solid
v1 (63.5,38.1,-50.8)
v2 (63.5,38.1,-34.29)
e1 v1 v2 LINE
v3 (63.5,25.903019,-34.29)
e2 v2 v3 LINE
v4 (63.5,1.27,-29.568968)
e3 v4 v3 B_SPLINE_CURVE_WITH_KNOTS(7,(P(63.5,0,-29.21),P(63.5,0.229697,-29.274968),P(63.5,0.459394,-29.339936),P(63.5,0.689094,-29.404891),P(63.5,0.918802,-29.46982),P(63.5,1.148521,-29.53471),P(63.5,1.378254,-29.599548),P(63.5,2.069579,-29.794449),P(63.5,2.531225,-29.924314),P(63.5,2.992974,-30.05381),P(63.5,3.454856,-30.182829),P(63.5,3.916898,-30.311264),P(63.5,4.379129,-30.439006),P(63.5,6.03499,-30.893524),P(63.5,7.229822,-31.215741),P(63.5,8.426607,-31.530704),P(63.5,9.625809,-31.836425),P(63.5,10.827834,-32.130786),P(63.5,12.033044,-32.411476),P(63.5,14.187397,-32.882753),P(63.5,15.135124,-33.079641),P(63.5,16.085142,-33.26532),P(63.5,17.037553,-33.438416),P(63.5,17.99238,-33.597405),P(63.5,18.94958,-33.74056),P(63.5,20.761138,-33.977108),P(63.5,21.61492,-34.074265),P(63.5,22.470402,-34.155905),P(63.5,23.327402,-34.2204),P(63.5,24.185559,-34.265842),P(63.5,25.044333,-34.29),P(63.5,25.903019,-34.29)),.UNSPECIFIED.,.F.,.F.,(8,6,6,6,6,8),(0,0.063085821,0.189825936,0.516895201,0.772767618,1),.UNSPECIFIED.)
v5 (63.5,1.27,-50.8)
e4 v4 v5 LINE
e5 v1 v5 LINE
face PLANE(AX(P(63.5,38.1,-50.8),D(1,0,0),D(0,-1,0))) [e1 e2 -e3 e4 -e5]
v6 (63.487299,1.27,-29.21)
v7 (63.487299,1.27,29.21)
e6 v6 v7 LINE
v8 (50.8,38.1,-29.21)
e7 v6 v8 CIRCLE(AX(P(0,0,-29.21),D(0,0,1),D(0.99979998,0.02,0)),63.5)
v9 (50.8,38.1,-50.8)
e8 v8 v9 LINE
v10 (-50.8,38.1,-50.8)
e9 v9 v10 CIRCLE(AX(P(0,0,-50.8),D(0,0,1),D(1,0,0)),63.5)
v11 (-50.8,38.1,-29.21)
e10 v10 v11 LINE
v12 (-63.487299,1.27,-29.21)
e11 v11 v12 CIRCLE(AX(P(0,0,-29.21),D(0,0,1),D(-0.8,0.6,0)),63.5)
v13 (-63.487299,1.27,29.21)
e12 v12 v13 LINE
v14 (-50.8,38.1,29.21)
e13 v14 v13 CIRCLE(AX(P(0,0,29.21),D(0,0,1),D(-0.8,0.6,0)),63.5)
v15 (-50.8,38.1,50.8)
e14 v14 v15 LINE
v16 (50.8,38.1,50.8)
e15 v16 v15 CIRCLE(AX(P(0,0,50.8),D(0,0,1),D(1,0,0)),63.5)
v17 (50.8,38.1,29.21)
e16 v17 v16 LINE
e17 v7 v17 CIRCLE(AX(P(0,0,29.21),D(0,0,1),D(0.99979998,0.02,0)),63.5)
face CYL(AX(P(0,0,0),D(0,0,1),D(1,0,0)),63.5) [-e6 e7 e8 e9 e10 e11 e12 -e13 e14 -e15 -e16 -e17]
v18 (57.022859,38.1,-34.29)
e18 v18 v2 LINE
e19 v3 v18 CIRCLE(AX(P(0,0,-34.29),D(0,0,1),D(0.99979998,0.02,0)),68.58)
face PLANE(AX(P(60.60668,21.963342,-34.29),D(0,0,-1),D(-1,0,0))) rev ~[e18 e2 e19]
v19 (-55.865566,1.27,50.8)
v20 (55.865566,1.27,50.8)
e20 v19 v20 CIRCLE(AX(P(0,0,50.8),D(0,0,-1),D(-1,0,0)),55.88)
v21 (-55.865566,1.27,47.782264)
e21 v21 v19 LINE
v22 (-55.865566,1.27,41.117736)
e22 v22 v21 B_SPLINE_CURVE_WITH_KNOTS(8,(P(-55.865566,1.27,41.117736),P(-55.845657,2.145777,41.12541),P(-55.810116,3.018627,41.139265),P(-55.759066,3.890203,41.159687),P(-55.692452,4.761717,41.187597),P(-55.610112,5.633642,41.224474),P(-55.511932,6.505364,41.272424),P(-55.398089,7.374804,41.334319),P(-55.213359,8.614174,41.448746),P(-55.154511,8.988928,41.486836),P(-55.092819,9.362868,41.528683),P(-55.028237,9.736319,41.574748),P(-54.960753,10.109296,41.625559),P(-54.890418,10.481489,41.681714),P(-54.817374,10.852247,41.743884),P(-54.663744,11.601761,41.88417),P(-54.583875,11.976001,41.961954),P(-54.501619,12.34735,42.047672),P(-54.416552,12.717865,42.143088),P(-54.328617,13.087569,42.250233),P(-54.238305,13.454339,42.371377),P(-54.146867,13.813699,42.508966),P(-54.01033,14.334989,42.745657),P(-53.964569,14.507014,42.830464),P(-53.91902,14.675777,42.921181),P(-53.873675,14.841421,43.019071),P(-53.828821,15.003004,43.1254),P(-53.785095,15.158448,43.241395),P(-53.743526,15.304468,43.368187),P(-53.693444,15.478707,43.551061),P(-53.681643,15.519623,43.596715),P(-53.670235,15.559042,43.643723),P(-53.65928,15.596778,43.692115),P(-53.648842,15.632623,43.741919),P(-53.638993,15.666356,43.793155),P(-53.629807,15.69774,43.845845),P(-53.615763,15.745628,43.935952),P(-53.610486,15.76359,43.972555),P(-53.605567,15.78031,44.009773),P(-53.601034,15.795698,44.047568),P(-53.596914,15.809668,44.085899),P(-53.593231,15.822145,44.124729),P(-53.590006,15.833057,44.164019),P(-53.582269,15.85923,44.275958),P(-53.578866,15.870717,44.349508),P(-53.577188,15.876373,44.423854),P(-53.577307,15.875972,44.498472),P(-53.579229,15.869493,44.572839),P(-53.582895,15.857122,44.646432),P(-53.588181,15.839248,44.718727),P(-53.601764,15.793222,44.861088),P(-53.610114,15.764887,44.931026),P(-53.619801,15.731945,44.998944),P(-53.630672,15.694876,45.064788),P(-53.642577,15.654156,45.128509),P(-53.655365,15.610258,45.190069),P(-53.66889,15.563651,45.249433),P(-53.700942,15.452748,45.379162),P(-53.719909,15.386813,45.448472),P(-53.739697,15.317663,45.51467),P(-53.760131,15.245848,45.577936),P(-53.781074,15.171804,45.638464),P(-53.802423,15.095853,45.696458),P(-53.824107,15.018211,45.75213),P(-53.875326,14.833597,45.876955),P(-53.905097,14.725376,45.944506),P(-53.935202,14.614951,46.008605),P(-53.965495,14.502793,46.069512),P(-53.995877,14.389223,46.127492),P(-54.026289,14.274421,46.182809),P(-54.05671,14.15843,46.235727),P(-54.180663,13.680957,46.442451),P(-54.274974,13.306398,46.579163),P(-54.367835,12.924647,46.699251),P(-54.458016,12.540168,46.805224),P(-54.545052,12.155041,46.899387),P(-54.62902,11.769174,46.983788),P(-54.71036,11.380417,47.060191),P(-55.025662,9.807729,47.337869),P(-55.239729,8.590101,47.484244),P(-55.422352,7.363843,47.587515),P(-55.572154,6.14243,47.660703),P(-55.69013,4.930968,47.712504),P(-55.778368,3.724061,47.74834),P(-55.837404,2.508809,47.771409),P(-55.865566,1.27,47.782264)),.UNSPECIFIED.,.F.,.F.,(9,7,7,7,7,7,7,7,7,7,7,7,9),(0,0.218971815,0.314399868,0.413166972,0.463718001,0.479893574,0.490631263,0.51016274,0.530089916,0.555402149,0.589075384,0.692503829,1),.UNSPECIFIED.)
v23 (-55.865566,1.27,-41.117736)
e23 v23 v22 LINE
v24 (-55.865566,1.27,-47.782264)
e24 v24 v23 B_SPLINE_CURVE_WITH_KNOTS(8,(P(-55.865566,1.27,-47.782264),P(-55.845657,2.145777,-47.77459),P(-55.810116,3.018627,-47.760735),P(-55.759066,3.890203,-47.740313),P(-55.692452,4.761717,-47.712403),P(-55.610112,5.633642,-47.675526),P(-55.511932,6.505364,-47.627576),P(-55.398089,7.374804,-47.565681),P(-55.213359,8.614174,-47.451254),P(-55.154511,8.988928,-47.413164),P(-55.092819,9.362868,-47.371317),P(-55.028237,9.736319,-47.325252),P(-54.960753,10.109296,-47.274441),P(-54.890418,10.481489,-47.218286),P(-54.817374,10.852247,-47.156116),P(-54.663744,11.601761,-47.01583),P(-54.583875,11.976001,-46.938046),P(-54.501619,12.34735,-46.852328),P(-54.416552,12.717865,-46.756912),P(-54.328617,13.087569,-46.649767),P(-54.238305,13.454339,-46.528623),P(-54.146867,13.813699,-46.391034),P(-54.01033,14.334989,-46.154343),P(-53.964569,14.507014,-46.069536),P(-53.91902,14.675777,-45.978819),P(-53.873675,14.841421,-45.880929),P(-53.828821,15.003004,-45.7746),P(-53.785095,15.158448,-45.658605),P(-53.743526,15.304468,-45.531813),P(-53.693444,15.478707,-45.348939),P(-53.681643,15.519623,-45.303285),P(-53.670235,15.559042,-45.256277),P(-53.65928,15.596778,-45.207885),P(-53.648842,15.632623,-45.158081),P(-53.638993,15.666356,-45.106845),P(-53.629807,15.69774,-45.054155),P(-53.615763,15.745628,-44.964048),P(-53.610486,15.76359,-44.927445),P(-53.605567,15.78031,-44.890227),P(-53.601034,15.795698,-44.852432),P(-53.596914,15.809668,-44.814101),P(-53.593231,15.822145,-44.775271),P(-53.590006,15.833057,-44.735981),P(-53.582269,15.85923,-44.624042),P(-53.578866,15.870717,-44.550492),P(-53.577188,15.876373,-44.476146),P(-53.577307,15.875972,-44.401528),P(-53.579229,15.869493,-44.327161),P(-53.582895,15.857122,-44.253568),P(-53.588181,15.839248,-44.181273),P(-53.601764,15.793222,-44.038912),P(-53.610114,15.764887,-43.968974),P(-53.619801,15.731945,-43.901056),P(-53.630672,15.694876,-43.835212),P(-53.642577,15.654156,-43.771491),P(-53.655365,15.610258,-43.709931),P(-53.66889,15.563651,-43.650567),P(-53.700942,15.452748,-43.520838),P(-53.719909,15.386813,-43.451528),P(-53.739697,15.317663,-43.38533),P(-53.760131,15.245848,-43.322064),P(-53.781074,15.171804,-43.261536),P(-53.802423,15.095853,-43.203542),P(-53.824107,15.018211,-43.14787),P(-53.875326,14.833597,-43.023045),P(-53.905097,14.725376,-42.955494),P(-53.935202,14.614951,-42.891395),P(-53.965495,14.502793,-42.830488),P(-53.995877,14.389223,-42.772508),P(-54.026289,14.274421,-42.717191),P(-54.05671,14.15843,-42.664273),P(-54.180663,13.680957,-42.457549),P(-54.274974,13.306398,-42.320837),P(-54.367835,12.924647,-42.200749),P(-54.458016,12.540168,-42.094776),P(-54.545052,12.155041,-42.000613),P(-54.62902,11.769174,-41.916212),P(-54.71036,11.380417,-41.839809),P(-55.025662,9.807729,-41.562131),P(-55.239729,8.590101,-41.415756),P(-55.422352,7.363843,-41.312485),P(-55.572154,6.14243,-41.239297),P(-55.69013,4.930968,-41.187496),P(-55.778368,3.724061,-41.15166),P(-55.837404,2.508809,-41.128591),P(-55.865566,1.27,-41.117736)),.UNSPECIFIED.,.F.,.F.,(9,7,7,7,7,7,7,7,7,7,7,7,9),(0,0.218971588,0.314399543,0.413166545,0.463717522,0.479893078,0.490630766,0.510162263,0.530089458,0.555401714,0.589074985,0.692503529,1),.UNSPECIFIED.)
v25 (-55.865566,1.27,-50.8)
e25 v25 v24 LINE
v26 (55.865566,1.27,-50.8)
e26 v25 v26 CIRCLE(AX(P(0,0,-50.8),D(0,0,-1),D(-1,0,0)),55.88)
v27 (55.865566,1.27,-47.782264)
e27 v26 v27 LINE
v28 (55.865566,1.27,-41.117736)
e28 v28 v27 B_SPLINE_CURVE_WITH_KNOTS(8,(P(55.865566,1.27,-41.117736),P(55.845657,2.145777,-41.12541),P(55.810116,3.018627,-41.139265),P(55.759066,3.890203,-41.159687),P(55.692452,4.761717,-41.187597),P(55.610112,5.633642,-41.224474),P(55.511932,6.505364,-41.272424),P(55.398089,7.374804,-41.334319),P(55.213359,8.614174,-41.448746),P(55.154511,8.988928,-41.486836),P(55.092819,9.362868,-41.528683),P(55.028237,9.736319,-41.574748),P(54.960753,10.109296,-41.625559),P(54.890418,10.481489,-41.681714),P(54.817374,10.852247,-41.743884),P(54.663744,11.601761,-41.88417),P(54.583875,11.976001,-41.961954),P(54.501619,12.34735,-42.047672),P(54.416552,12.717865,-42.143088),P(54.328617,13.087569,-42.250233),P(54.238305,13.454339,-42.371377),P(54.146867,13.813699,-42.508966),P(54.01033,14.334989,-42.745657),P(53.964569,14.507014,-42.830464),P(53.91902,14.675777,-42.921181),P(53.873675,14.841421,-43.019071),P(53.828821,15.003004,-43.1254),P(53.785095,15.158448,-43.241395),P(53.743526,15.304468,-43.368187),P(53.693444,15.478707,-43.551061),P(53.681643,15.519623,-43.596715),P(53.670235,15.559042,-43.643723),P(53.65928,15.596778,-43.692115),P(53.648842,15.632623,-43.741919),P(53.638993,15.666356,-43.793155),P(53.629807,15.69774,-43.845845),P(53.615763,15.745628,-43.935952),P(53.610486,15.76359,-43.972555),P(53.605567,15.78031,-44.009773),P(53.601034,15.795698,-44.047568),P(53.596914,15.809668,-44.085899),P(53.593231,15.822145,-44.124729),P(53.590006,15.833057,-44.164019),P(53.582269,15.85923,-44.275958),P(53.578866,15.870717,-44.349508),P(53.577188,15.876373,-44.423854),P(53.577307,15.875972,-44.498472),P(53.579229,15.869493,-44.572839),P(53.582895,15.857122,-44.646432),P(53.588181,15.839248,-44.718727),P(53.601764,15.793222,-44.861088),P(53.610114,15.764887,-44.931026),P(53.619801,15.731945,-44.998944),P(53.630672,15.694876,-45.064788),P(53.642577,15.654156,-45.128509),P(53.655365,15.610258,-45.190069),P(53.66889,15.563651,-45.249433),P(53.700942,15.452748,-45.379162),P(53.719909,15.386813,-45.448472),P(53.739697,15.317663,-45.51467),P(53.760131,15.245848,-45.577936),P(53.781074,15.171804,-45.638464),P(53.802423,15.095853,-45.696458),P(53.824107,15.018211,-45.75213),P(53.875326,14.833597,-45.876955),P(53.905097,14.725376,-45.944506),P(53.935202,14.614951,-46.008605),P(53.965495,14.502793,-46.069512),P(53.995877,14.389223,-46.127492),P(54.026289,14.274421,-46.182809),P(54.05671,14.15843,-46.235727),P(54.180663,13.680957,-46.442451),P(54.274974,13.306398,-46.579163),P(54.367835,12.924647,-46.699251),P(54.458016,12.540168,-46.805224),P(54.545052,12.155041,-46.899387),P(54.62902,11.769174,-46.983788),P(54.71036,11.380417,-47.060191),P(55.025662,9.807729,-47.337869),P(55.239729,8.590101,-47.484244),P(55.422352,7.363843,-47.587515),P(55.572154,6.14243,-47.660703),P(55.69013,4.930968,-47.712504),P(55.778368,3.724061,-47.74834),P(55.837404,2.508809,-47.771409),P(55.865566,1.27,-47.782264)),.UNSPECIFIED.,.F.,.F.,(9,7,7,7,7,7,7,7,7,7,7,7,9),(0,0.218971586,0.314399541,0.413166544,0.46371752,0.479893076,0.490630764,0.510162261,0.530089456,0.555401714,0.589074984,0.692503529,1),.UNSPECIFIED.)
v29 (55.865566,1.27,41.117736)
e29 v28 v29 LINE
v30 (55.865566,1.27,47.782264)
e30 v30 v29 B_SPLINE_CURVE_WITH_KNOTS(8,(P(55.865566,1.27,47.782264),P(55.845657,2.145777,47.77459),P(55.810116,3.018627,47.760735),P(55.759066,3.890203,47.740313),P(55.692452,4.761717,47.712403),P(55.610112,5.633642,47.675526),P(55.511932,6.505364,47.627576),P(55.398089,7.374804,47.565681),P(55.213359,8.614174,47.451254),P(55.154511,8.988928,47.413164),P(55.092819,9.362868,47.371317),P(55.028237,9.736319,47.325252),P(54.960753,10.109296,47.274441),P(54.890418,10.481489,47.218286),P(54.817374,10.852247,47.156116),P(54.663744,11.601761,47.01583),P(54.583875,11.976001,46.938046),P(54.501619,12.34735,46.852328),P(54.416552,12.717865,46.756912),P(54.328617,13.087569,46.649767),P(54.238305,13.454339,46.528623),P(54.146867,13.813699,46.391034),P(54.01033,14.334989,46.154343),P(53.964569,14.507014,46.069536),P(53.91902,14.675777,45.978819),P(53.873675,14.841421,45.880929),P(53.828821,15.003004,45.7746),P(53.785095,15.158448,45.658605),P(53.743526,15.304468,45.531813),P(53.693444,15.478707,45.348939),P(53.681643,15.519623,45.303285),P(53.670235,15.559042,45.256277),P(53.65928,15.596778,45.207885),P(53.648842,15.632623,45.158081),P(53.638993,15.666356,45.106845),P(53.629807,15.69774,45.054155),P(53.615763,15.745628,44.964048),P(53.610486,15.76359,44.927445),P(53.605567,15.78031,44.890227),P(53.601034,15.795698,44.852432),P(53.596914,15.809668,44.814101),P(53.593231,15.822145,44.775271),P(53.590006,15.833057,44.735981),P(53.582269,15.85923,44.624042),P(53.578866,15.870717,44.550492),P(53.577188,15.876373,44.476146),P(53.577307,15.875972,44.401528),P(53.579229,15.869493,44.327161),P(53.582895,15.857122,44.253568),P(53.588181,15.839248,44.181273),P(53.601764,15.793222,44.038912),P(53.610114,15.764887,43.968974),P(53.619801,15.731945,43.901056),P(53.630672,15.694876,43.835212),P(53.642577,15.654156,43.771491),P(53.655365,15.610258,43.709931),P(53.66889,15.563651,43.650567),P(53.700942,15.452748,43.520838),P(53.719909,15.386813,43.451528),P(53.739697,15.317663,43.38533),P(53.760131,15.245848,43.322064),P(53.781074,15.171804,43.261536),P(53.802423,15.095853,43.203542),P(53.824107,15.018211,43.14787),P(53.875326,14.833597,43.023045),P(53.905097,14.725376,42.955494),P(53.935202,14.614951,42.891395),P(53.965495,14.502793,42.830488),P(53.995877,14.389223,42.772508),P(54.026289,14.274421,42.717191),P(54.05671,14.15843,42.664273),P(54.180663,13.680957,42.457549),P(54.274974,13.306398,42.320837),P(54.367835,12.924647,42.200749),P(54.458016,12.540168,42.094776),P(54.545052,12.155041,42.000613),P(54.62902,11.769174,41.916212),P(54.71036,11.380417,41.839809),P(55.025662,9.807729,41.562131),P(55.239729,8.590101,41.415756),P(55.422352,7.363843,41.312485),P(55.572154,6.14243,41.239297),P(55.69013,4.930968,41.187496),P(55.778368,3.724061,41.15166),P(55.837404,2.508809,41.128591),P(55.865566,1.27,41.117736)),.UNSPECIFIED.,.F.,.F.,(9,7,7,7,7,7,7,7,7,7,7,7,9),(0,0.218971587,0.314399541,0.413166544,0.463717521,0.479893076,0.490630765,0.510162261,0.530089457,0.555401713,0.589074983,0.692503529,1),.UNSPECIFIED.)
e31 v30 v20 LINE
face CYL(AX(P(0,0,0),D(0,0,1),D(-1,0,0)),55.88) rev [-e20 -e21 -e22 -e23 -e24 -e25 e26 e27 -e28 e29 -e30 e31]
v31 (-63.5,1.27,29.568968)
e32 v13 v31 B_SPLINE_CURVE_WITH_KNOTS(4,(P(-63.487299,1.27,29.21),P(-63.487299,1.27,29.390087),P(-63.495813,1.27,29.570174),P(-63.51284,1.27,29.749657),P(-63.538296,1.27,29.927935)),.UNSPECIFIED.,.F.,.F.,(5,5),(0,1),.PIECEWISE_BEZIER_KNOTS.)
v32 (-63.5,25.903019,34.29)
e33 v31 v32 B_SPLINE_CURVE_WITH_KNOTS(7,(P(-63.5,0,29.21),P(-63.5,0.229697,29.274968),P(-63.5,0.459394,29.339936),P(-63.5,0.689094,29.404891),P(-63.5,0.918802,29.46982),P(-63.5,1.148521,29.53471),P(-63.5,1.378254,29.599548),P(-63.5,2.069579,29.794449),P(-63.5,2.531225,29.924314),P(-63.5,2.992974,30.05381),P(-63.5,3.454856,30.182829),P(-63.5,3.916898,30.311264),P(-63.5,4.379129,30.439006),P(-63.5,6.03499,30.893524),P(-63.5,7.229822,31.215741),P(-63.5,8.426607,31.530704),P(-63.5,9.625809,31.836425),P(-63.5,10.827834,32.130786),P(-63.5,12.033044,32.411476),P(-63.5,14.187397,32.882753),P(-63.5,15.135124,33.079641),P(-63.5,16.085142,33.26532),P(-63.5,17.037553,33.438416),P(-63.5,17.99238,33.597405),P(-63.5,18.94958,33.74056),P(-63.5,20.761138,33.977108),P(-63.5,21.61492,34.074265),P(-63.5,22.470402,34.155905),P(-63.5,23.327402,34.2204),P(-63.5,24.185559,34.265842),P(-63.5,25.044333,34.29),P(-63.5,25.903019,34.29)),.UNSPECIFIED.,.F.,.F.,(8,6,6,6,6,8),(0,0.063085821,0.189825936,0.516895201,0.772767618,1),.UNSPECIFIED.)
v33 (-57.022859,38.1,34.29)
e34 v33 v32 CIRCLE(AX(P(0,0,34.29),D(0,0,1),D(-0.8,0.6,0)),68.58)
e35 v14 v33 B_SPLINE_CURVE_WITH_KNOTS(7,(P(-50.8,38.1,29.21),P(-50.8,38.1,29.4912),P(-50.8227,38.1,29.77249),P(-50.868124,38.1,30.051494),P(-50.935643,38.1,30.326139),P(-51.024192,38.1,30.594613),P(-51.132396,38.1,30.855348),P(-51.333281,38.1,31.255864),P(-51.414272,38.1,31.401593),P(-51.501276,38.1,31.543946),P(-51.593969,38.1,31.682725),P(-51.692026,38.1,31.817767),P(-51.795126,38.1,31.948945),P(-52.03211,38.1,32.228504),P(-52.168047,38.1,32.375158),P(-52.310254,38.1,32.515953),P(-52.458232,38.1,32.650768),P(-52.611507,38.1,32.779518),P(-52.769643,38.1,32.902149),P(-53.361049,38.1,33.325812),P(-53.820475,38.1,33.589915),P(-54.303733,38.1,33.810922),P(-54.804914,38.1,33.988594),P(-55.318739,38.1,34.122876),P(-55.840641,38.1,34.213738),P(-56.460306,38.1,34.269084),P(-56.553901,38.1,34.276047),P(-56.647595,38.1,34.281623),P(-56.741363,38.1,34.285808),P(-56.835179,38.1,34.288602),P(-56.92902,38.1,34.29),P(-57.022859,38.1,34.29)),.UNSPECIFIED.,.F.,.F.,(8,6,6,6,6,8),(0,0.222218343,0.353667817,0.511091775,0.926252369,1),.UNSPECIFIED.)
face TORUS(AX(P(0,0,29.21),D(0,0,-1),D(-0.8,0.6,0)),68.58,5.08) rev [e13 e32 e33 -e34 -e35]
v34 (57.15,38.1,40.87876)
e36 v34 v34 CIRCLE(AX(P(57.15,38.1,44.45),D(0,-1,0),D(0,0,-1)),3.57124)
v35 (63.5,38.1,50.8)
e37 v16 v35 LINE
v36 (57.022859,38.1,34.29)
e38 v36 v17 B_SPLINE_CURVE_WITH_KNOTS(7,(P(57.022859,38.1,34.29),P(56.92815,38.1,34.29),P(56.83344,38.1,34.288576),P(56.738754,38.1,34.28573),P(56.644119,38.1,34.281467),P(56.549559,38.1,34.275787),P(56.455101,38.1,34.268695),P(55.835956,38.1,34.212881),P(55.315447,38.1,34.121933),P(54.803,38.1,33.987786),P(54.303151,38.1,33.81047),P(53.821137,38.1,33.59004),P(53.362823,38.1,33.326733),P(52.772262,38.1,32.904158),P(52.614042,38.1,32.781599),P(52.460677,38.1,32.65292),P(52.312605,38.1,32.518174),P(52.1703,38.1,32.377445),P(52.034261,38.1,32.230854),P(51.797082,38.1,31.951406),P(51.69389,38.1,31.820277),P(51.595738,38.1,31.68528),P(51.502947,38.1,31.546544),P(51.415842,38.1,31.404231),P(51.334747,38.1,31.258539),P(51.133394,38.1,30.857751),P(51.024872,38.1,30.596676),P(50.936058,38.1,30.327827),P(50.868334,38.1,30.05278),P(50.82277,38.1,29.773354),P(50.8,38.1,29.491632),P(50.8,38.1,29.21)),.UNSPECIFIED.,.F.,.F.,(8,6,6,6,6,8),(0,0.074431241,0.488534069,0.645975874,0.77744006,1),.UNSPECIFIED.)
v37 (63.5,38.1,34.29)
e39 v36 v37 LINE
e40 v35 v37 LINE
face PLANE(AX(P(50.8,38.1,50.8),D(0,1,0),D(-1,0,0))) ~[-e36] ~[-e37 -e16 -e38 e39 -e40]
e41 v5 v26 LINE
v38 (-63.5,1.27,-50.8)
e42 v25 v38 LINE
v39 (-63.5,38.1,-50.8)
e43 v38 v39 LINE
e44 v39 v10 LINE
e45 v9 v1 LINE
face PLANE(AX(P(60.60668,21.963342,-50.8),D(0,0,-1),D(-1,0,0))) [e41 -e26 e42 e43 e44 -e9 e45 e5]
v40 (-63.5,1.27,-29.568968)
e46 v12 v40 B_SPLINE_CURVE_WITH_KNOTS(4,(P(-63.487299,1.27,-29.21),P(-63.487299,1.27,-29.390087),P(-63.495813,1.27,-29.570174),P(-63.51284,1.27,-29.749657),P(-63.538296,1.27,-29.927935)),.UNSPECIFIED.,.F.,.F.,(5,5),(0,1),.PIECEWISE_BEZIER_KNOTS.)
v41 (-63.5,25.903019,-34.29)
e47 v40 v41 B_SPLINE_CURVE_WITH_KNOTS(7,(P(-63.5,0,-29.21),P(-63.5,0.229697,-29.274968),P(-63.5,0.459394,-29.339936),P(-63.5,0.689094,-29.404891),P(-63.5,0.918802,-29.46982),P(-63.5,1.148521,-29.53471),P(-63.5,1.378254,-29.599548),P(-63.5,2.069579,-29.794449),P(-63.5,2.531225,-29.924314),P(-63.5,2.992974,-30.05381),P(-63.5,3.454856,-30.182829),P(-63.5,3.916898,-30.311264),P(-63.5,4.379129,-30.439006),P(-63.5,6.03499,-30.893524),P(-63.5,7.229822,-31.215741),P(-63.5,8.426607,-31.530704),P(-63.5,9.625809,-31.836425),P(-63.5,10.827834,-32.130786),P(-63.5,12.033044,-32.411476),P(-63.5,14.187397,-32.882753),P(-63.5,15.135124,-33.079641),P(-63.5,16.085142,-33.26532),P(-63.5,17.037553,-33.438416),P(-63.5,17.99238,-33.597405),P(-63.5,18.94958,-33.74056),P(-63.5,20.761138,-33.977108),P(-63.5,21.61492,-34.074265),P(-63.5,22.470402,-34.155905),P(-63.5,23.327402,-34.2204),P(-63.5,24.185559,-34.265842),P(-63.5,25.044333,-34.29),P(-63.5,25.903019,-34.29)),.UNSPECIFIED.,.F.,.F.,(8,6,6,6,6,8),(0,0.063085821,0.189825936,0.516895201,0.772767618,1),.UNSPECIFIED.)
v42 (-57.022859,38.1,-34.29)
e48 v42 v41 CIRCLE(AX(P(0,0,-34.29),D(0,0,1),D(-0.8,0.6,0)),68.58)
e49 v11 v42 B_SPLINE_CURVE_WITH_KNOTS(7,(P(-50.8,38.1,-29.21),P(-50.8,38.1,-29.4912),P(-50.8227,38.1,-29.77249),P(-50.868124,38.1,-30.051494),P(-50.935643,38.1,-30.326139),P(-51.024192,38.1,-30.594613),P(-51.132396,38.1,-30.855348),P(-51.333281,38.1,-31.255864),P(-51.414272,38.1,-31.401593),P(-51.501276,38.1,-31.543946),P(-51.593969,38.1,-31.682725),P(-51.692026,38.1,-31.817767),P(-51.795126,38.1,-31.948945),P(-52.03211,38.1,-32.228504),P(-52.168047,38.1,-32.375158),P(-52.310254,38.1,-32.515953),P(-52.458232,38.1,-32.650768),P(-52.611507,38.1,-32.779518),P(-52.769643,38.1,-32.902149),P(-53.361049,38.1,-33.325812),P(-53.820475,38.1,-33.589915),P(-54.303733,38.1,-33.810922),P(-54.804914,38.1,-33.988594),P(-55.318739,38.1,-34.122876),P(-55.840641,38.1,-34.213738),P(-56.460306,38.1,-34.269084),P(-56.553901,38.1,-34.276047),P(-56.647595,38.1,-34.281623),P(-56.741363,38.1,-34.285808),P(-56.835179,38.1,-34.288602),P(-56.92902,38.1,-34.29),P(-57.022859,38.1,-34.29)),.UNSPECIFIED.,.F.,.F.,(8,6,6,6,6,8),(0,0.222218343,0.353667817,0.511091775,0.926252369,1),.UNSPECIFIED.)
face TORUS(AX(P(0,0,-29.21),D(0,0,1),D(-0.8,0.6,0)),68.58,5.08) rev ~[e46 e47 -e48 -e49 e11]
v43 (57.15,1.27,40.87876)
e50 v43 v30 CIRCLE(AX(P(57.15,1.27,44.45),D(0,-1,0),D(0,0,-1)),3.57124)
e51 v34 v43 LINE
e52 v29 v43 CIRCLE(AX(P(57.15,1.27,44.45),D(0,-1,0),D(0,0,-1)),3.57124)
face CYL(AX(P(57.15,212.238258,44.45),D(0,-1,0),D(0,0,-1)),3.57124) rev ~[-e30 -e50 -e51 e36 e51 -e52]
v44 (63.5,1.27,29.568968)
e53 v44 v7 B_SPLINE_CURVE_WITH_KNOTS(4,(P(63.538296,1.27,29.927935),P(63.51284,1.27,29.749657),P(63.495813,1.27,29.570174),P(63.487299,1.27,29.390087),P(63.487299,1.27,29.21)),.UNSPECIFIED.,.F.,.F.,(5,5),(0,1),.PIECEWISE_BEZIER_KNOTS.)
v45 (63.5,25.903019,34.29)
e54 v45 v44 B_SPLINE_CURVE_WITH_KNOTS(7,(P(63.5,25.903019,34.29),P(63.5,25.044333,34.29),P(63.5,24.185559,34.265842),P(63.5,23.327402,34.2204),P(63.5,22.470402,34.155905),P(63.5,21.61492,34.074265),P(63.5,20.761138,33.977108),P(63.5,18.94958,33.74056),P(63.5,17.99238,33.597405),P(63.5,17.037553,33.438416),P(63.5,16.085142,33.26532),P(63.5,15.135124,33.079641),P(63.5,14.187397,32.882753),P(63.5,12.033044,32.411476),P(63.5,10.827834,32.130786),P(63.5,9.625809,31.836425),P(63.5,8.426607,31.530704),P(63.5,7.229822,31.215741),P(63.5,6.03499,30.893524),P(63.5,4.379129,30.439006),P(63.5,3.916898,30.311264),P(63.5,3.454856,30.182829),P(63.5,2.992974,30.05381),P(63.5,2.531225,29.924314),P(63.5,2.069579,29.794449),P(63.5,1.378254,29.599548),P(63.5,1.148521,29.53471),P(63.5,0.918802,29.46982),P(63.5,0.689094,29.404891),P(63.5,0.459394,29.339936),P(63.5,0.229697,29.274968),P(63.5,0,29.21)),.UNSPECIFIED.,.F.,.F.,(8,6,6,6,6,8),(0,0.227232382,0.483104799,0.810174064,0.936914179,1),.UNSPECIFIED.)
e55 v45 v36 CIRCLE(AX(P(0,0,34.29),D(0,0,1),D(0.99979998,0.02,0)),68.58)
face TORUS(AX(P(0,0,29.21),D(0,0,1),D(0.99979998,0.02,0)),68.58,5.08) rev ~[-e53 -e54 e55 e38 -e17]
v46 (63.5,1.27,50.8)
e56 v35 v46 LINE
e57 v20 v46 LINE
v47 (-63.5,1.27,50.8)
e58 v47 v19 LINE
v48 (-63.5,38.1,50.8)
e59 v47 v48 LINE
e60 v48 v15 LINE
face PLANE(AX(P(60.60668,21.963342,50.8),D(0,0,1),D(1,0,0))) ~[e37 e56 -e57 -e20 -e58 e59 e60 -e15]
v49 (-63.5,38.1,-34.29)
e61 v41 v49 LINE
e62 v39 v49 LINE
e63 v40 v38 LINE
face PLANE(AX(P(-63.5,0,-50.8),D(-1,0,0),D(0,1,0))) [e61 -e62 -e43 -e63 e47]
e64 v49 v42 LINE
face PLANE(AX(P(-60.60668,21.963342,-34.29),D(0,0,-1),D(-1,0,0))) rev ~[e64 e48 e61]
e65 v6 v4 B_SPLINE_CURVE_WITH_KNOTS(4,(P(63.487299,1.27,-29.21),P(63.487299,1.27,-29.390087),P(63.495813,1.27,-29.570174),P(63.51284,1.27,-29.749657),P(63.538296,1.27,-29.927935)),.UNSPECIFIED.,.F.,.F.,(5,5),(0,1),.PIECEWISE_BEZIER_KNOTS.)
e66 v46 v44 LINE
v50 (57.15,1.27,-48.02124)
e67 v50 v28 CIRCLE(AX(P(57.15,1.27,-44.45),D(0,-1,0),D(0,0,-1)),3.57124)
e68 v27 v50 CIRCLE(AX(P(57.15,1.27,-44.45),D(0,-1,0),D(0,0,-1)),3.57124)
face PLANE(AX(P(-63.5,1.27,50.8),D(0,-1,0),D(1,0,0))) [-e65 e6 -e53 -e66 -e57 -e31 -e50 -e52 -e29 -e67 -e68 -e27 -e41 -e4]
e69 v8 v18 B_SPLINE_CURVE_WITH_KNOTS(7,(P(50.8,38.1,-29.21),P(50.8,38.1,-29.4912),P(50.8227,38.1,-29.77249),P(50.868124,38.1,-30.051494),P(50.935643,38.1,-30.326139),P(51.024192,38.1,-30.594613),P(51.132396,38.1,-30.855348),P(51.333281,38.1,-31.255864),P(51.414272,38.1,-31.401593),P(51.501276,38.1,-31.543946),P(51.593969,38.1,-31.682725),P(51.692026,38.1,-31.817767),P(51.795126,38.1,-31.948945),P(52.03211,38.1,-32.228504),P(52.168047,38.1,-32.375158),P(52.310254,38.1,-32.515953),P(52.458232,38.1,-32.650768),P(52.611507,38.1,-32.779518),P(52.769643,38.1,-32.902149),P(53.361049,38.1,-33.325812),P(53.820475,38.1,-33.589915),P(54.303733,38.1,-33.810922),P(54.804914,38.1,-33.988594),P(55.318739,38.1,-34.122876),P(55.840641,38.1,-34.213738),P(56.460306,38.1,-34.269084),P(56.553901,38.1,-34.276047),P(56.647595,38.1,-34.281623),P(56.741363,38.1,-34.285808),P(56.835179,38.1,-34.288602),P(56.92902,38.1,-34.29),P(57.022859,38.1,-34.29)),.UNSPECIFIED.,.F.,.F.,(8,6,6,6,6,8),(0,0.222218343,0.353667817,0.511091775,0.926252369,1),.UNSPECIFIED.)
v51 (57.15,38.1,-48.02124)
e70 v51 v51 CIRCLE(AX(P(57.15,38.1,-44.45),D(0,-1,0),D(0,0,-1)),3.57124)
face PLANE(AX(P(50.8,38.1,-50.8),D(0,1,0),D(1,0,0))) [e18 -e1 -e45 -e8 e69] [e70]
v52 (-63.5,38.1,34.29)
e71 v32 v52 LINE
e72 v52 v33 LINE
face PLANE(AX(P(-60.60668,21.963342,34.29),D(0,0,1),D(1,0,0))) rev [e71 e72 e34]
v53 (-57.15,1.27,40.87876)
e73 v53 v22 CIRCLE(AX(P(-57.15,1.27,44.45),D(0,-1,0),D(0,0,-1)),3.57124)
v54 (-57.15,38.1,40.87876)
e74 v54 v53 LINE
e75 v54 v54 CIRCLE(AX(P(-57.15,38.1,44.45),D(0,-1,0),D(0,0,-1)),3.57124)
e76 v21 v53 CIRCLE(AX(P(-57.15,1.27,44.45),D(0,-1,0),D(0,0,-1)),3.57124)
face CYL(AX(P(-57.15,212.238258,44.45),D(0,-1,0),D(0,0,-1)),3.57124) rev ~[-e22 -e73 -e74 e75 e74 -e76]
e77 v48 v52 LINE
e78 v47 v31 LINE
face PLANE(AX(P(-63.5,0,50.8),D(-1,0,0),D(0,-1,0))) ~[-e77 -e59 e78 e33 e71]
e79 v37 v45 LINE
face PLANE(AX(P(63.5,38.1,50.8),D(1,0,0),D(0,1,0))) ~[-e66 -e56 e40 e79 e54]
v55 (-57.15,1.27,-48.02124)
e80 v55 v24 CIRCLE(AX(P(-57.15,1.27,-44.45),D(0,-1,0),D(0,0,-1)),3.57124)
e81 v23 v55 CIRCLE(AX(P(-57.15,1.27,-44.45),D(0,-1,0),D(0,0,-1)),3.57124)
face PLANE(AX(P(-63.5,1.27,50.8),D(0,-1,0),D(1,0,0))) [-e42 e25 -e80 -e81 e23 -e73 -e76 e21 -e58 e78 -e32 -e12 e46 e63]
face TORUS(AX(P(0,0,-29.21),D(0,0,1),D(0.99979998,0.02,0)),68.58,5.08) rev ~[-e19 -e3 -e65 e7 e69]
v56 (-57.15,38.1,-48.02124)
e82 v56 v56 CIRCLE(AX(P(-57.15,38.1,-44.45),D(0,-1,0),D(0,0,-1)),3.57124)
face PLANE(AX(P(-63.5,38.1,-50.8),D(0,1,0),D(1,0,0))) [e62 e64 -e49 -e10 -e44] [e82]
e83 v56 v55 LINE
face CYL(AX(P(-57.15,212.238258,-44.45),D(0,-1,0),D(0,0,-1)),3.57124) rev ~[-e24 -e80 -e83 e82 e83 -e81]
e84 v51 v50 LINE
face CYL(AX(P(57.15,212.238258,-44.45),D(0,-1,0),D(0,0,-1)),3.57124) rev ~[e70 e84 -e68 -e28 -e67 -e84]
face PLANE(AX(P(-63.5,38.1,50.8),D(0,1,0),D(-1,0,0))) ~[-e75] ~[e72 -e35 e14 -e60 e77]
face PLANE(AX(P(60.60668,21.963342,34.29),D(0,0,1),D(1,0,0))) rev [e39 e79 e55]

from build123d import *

# Parameters (mm, degrees)
BOSS_EXTRUDE1_DEPTH     = 50.8
BOSS_EXTRUDE2_DEPTH     = 16.51
SKETCH4_W               = 127
SKETCH4_H               = 1.27
CUT_EXTRUDE1_DEPTH      = 102.6
F_1_4_CLEARANCE_HOLE1_D = 7.14248
FILLET1_R               = 5.08


with BuildPart() as part:
    # Sketch1 → Boss-Extrude1 (new body, symmetric)
    with BuildSketch(Plane.XY):
        with BuildLine():
            Line((55.88, 0), (63.5, 0))
            ThreePointArc((63.5, 0), (0, 63.5), (-63.5, 0))
            Line((-63.5, 0), (-55.88, 0))
            ThreePointArc((-55.88, 0), (0, 55.88), (55.88, 0))
        make_face()
    extrude(amount=BOSS_EXTRUDE1_DEPTH, both=True)

    # Sketch2 → Boss-Extrude2 (add)
    with BuildSketch(Plane(origin=(0, 0, -50.8), x_dir=(-1, 0, 0), z_dir=(0, 0, -1))):
        with BuildLine():
            Line((-63.5, 38.1), (-63.5, 0))
            ThreePointArc((-63.5, 0), (-60.241389426, 20.080463142), (-50.8, 38.1))
            Line((-50.8, 38.1), (-63.5, 38.1))
        make_face()
        with BuildLine():
            Line((63.5, 38.1), (50.8, 38.1))
            ThreePointArc((50.8, 38.1), (60.241389426, 20.080463142), (63.5, 0))
            Line((63.5, 0), (63.5, 38.1))
        make_face()
    boss_extrude2 = extrude(amount=-BOSS_EXTRUDE2_DEPTH)

    # Mirror1: Boss-Extrude2 across plane
    add(boss_extrude2.mirror(Plane.XY))

    # Sketch4 → Cut-Extrude1 (cut, through all)
    with BuildSketch(Plane.XY.offset(50.8)):
        with Locations((0, 0.635)):
            Rectangle(SKETCH4_W, SKETCH4_H)
    extrude(amount=-CUT_EXTRUDE1_DEPTH, mode=Mode.SUBTRACT)

    # 1/4 Clearance Hole1 (through all)
    with Locations(Plane(origin=(-57.15, 38.1, -44.45), x_dir=(0, 0, 1), z_dir=(0, 1, 0))):
        with Locations((0, 0), (0, 114.3), (88.9, 0), (88.9, 114.3)):
            Hole(F_1_4_CLEARANCE_HOLE1_D / 2)

    # Fillet1
    fillet1_edges = [part.edges().sort_by_distance(p)[0] for p in [
        (60.037562307, 20.681903014, 34.29),
        (-60.037562307, 20.681903014, 34.29),
        (-60.037562307, 20.681903014, -34.29),
        (60.037562307, 20.681903014, -34.29),
    ]]
    fillet(fillet1_edges, radius=FILLET1_R)


solid = part.part
